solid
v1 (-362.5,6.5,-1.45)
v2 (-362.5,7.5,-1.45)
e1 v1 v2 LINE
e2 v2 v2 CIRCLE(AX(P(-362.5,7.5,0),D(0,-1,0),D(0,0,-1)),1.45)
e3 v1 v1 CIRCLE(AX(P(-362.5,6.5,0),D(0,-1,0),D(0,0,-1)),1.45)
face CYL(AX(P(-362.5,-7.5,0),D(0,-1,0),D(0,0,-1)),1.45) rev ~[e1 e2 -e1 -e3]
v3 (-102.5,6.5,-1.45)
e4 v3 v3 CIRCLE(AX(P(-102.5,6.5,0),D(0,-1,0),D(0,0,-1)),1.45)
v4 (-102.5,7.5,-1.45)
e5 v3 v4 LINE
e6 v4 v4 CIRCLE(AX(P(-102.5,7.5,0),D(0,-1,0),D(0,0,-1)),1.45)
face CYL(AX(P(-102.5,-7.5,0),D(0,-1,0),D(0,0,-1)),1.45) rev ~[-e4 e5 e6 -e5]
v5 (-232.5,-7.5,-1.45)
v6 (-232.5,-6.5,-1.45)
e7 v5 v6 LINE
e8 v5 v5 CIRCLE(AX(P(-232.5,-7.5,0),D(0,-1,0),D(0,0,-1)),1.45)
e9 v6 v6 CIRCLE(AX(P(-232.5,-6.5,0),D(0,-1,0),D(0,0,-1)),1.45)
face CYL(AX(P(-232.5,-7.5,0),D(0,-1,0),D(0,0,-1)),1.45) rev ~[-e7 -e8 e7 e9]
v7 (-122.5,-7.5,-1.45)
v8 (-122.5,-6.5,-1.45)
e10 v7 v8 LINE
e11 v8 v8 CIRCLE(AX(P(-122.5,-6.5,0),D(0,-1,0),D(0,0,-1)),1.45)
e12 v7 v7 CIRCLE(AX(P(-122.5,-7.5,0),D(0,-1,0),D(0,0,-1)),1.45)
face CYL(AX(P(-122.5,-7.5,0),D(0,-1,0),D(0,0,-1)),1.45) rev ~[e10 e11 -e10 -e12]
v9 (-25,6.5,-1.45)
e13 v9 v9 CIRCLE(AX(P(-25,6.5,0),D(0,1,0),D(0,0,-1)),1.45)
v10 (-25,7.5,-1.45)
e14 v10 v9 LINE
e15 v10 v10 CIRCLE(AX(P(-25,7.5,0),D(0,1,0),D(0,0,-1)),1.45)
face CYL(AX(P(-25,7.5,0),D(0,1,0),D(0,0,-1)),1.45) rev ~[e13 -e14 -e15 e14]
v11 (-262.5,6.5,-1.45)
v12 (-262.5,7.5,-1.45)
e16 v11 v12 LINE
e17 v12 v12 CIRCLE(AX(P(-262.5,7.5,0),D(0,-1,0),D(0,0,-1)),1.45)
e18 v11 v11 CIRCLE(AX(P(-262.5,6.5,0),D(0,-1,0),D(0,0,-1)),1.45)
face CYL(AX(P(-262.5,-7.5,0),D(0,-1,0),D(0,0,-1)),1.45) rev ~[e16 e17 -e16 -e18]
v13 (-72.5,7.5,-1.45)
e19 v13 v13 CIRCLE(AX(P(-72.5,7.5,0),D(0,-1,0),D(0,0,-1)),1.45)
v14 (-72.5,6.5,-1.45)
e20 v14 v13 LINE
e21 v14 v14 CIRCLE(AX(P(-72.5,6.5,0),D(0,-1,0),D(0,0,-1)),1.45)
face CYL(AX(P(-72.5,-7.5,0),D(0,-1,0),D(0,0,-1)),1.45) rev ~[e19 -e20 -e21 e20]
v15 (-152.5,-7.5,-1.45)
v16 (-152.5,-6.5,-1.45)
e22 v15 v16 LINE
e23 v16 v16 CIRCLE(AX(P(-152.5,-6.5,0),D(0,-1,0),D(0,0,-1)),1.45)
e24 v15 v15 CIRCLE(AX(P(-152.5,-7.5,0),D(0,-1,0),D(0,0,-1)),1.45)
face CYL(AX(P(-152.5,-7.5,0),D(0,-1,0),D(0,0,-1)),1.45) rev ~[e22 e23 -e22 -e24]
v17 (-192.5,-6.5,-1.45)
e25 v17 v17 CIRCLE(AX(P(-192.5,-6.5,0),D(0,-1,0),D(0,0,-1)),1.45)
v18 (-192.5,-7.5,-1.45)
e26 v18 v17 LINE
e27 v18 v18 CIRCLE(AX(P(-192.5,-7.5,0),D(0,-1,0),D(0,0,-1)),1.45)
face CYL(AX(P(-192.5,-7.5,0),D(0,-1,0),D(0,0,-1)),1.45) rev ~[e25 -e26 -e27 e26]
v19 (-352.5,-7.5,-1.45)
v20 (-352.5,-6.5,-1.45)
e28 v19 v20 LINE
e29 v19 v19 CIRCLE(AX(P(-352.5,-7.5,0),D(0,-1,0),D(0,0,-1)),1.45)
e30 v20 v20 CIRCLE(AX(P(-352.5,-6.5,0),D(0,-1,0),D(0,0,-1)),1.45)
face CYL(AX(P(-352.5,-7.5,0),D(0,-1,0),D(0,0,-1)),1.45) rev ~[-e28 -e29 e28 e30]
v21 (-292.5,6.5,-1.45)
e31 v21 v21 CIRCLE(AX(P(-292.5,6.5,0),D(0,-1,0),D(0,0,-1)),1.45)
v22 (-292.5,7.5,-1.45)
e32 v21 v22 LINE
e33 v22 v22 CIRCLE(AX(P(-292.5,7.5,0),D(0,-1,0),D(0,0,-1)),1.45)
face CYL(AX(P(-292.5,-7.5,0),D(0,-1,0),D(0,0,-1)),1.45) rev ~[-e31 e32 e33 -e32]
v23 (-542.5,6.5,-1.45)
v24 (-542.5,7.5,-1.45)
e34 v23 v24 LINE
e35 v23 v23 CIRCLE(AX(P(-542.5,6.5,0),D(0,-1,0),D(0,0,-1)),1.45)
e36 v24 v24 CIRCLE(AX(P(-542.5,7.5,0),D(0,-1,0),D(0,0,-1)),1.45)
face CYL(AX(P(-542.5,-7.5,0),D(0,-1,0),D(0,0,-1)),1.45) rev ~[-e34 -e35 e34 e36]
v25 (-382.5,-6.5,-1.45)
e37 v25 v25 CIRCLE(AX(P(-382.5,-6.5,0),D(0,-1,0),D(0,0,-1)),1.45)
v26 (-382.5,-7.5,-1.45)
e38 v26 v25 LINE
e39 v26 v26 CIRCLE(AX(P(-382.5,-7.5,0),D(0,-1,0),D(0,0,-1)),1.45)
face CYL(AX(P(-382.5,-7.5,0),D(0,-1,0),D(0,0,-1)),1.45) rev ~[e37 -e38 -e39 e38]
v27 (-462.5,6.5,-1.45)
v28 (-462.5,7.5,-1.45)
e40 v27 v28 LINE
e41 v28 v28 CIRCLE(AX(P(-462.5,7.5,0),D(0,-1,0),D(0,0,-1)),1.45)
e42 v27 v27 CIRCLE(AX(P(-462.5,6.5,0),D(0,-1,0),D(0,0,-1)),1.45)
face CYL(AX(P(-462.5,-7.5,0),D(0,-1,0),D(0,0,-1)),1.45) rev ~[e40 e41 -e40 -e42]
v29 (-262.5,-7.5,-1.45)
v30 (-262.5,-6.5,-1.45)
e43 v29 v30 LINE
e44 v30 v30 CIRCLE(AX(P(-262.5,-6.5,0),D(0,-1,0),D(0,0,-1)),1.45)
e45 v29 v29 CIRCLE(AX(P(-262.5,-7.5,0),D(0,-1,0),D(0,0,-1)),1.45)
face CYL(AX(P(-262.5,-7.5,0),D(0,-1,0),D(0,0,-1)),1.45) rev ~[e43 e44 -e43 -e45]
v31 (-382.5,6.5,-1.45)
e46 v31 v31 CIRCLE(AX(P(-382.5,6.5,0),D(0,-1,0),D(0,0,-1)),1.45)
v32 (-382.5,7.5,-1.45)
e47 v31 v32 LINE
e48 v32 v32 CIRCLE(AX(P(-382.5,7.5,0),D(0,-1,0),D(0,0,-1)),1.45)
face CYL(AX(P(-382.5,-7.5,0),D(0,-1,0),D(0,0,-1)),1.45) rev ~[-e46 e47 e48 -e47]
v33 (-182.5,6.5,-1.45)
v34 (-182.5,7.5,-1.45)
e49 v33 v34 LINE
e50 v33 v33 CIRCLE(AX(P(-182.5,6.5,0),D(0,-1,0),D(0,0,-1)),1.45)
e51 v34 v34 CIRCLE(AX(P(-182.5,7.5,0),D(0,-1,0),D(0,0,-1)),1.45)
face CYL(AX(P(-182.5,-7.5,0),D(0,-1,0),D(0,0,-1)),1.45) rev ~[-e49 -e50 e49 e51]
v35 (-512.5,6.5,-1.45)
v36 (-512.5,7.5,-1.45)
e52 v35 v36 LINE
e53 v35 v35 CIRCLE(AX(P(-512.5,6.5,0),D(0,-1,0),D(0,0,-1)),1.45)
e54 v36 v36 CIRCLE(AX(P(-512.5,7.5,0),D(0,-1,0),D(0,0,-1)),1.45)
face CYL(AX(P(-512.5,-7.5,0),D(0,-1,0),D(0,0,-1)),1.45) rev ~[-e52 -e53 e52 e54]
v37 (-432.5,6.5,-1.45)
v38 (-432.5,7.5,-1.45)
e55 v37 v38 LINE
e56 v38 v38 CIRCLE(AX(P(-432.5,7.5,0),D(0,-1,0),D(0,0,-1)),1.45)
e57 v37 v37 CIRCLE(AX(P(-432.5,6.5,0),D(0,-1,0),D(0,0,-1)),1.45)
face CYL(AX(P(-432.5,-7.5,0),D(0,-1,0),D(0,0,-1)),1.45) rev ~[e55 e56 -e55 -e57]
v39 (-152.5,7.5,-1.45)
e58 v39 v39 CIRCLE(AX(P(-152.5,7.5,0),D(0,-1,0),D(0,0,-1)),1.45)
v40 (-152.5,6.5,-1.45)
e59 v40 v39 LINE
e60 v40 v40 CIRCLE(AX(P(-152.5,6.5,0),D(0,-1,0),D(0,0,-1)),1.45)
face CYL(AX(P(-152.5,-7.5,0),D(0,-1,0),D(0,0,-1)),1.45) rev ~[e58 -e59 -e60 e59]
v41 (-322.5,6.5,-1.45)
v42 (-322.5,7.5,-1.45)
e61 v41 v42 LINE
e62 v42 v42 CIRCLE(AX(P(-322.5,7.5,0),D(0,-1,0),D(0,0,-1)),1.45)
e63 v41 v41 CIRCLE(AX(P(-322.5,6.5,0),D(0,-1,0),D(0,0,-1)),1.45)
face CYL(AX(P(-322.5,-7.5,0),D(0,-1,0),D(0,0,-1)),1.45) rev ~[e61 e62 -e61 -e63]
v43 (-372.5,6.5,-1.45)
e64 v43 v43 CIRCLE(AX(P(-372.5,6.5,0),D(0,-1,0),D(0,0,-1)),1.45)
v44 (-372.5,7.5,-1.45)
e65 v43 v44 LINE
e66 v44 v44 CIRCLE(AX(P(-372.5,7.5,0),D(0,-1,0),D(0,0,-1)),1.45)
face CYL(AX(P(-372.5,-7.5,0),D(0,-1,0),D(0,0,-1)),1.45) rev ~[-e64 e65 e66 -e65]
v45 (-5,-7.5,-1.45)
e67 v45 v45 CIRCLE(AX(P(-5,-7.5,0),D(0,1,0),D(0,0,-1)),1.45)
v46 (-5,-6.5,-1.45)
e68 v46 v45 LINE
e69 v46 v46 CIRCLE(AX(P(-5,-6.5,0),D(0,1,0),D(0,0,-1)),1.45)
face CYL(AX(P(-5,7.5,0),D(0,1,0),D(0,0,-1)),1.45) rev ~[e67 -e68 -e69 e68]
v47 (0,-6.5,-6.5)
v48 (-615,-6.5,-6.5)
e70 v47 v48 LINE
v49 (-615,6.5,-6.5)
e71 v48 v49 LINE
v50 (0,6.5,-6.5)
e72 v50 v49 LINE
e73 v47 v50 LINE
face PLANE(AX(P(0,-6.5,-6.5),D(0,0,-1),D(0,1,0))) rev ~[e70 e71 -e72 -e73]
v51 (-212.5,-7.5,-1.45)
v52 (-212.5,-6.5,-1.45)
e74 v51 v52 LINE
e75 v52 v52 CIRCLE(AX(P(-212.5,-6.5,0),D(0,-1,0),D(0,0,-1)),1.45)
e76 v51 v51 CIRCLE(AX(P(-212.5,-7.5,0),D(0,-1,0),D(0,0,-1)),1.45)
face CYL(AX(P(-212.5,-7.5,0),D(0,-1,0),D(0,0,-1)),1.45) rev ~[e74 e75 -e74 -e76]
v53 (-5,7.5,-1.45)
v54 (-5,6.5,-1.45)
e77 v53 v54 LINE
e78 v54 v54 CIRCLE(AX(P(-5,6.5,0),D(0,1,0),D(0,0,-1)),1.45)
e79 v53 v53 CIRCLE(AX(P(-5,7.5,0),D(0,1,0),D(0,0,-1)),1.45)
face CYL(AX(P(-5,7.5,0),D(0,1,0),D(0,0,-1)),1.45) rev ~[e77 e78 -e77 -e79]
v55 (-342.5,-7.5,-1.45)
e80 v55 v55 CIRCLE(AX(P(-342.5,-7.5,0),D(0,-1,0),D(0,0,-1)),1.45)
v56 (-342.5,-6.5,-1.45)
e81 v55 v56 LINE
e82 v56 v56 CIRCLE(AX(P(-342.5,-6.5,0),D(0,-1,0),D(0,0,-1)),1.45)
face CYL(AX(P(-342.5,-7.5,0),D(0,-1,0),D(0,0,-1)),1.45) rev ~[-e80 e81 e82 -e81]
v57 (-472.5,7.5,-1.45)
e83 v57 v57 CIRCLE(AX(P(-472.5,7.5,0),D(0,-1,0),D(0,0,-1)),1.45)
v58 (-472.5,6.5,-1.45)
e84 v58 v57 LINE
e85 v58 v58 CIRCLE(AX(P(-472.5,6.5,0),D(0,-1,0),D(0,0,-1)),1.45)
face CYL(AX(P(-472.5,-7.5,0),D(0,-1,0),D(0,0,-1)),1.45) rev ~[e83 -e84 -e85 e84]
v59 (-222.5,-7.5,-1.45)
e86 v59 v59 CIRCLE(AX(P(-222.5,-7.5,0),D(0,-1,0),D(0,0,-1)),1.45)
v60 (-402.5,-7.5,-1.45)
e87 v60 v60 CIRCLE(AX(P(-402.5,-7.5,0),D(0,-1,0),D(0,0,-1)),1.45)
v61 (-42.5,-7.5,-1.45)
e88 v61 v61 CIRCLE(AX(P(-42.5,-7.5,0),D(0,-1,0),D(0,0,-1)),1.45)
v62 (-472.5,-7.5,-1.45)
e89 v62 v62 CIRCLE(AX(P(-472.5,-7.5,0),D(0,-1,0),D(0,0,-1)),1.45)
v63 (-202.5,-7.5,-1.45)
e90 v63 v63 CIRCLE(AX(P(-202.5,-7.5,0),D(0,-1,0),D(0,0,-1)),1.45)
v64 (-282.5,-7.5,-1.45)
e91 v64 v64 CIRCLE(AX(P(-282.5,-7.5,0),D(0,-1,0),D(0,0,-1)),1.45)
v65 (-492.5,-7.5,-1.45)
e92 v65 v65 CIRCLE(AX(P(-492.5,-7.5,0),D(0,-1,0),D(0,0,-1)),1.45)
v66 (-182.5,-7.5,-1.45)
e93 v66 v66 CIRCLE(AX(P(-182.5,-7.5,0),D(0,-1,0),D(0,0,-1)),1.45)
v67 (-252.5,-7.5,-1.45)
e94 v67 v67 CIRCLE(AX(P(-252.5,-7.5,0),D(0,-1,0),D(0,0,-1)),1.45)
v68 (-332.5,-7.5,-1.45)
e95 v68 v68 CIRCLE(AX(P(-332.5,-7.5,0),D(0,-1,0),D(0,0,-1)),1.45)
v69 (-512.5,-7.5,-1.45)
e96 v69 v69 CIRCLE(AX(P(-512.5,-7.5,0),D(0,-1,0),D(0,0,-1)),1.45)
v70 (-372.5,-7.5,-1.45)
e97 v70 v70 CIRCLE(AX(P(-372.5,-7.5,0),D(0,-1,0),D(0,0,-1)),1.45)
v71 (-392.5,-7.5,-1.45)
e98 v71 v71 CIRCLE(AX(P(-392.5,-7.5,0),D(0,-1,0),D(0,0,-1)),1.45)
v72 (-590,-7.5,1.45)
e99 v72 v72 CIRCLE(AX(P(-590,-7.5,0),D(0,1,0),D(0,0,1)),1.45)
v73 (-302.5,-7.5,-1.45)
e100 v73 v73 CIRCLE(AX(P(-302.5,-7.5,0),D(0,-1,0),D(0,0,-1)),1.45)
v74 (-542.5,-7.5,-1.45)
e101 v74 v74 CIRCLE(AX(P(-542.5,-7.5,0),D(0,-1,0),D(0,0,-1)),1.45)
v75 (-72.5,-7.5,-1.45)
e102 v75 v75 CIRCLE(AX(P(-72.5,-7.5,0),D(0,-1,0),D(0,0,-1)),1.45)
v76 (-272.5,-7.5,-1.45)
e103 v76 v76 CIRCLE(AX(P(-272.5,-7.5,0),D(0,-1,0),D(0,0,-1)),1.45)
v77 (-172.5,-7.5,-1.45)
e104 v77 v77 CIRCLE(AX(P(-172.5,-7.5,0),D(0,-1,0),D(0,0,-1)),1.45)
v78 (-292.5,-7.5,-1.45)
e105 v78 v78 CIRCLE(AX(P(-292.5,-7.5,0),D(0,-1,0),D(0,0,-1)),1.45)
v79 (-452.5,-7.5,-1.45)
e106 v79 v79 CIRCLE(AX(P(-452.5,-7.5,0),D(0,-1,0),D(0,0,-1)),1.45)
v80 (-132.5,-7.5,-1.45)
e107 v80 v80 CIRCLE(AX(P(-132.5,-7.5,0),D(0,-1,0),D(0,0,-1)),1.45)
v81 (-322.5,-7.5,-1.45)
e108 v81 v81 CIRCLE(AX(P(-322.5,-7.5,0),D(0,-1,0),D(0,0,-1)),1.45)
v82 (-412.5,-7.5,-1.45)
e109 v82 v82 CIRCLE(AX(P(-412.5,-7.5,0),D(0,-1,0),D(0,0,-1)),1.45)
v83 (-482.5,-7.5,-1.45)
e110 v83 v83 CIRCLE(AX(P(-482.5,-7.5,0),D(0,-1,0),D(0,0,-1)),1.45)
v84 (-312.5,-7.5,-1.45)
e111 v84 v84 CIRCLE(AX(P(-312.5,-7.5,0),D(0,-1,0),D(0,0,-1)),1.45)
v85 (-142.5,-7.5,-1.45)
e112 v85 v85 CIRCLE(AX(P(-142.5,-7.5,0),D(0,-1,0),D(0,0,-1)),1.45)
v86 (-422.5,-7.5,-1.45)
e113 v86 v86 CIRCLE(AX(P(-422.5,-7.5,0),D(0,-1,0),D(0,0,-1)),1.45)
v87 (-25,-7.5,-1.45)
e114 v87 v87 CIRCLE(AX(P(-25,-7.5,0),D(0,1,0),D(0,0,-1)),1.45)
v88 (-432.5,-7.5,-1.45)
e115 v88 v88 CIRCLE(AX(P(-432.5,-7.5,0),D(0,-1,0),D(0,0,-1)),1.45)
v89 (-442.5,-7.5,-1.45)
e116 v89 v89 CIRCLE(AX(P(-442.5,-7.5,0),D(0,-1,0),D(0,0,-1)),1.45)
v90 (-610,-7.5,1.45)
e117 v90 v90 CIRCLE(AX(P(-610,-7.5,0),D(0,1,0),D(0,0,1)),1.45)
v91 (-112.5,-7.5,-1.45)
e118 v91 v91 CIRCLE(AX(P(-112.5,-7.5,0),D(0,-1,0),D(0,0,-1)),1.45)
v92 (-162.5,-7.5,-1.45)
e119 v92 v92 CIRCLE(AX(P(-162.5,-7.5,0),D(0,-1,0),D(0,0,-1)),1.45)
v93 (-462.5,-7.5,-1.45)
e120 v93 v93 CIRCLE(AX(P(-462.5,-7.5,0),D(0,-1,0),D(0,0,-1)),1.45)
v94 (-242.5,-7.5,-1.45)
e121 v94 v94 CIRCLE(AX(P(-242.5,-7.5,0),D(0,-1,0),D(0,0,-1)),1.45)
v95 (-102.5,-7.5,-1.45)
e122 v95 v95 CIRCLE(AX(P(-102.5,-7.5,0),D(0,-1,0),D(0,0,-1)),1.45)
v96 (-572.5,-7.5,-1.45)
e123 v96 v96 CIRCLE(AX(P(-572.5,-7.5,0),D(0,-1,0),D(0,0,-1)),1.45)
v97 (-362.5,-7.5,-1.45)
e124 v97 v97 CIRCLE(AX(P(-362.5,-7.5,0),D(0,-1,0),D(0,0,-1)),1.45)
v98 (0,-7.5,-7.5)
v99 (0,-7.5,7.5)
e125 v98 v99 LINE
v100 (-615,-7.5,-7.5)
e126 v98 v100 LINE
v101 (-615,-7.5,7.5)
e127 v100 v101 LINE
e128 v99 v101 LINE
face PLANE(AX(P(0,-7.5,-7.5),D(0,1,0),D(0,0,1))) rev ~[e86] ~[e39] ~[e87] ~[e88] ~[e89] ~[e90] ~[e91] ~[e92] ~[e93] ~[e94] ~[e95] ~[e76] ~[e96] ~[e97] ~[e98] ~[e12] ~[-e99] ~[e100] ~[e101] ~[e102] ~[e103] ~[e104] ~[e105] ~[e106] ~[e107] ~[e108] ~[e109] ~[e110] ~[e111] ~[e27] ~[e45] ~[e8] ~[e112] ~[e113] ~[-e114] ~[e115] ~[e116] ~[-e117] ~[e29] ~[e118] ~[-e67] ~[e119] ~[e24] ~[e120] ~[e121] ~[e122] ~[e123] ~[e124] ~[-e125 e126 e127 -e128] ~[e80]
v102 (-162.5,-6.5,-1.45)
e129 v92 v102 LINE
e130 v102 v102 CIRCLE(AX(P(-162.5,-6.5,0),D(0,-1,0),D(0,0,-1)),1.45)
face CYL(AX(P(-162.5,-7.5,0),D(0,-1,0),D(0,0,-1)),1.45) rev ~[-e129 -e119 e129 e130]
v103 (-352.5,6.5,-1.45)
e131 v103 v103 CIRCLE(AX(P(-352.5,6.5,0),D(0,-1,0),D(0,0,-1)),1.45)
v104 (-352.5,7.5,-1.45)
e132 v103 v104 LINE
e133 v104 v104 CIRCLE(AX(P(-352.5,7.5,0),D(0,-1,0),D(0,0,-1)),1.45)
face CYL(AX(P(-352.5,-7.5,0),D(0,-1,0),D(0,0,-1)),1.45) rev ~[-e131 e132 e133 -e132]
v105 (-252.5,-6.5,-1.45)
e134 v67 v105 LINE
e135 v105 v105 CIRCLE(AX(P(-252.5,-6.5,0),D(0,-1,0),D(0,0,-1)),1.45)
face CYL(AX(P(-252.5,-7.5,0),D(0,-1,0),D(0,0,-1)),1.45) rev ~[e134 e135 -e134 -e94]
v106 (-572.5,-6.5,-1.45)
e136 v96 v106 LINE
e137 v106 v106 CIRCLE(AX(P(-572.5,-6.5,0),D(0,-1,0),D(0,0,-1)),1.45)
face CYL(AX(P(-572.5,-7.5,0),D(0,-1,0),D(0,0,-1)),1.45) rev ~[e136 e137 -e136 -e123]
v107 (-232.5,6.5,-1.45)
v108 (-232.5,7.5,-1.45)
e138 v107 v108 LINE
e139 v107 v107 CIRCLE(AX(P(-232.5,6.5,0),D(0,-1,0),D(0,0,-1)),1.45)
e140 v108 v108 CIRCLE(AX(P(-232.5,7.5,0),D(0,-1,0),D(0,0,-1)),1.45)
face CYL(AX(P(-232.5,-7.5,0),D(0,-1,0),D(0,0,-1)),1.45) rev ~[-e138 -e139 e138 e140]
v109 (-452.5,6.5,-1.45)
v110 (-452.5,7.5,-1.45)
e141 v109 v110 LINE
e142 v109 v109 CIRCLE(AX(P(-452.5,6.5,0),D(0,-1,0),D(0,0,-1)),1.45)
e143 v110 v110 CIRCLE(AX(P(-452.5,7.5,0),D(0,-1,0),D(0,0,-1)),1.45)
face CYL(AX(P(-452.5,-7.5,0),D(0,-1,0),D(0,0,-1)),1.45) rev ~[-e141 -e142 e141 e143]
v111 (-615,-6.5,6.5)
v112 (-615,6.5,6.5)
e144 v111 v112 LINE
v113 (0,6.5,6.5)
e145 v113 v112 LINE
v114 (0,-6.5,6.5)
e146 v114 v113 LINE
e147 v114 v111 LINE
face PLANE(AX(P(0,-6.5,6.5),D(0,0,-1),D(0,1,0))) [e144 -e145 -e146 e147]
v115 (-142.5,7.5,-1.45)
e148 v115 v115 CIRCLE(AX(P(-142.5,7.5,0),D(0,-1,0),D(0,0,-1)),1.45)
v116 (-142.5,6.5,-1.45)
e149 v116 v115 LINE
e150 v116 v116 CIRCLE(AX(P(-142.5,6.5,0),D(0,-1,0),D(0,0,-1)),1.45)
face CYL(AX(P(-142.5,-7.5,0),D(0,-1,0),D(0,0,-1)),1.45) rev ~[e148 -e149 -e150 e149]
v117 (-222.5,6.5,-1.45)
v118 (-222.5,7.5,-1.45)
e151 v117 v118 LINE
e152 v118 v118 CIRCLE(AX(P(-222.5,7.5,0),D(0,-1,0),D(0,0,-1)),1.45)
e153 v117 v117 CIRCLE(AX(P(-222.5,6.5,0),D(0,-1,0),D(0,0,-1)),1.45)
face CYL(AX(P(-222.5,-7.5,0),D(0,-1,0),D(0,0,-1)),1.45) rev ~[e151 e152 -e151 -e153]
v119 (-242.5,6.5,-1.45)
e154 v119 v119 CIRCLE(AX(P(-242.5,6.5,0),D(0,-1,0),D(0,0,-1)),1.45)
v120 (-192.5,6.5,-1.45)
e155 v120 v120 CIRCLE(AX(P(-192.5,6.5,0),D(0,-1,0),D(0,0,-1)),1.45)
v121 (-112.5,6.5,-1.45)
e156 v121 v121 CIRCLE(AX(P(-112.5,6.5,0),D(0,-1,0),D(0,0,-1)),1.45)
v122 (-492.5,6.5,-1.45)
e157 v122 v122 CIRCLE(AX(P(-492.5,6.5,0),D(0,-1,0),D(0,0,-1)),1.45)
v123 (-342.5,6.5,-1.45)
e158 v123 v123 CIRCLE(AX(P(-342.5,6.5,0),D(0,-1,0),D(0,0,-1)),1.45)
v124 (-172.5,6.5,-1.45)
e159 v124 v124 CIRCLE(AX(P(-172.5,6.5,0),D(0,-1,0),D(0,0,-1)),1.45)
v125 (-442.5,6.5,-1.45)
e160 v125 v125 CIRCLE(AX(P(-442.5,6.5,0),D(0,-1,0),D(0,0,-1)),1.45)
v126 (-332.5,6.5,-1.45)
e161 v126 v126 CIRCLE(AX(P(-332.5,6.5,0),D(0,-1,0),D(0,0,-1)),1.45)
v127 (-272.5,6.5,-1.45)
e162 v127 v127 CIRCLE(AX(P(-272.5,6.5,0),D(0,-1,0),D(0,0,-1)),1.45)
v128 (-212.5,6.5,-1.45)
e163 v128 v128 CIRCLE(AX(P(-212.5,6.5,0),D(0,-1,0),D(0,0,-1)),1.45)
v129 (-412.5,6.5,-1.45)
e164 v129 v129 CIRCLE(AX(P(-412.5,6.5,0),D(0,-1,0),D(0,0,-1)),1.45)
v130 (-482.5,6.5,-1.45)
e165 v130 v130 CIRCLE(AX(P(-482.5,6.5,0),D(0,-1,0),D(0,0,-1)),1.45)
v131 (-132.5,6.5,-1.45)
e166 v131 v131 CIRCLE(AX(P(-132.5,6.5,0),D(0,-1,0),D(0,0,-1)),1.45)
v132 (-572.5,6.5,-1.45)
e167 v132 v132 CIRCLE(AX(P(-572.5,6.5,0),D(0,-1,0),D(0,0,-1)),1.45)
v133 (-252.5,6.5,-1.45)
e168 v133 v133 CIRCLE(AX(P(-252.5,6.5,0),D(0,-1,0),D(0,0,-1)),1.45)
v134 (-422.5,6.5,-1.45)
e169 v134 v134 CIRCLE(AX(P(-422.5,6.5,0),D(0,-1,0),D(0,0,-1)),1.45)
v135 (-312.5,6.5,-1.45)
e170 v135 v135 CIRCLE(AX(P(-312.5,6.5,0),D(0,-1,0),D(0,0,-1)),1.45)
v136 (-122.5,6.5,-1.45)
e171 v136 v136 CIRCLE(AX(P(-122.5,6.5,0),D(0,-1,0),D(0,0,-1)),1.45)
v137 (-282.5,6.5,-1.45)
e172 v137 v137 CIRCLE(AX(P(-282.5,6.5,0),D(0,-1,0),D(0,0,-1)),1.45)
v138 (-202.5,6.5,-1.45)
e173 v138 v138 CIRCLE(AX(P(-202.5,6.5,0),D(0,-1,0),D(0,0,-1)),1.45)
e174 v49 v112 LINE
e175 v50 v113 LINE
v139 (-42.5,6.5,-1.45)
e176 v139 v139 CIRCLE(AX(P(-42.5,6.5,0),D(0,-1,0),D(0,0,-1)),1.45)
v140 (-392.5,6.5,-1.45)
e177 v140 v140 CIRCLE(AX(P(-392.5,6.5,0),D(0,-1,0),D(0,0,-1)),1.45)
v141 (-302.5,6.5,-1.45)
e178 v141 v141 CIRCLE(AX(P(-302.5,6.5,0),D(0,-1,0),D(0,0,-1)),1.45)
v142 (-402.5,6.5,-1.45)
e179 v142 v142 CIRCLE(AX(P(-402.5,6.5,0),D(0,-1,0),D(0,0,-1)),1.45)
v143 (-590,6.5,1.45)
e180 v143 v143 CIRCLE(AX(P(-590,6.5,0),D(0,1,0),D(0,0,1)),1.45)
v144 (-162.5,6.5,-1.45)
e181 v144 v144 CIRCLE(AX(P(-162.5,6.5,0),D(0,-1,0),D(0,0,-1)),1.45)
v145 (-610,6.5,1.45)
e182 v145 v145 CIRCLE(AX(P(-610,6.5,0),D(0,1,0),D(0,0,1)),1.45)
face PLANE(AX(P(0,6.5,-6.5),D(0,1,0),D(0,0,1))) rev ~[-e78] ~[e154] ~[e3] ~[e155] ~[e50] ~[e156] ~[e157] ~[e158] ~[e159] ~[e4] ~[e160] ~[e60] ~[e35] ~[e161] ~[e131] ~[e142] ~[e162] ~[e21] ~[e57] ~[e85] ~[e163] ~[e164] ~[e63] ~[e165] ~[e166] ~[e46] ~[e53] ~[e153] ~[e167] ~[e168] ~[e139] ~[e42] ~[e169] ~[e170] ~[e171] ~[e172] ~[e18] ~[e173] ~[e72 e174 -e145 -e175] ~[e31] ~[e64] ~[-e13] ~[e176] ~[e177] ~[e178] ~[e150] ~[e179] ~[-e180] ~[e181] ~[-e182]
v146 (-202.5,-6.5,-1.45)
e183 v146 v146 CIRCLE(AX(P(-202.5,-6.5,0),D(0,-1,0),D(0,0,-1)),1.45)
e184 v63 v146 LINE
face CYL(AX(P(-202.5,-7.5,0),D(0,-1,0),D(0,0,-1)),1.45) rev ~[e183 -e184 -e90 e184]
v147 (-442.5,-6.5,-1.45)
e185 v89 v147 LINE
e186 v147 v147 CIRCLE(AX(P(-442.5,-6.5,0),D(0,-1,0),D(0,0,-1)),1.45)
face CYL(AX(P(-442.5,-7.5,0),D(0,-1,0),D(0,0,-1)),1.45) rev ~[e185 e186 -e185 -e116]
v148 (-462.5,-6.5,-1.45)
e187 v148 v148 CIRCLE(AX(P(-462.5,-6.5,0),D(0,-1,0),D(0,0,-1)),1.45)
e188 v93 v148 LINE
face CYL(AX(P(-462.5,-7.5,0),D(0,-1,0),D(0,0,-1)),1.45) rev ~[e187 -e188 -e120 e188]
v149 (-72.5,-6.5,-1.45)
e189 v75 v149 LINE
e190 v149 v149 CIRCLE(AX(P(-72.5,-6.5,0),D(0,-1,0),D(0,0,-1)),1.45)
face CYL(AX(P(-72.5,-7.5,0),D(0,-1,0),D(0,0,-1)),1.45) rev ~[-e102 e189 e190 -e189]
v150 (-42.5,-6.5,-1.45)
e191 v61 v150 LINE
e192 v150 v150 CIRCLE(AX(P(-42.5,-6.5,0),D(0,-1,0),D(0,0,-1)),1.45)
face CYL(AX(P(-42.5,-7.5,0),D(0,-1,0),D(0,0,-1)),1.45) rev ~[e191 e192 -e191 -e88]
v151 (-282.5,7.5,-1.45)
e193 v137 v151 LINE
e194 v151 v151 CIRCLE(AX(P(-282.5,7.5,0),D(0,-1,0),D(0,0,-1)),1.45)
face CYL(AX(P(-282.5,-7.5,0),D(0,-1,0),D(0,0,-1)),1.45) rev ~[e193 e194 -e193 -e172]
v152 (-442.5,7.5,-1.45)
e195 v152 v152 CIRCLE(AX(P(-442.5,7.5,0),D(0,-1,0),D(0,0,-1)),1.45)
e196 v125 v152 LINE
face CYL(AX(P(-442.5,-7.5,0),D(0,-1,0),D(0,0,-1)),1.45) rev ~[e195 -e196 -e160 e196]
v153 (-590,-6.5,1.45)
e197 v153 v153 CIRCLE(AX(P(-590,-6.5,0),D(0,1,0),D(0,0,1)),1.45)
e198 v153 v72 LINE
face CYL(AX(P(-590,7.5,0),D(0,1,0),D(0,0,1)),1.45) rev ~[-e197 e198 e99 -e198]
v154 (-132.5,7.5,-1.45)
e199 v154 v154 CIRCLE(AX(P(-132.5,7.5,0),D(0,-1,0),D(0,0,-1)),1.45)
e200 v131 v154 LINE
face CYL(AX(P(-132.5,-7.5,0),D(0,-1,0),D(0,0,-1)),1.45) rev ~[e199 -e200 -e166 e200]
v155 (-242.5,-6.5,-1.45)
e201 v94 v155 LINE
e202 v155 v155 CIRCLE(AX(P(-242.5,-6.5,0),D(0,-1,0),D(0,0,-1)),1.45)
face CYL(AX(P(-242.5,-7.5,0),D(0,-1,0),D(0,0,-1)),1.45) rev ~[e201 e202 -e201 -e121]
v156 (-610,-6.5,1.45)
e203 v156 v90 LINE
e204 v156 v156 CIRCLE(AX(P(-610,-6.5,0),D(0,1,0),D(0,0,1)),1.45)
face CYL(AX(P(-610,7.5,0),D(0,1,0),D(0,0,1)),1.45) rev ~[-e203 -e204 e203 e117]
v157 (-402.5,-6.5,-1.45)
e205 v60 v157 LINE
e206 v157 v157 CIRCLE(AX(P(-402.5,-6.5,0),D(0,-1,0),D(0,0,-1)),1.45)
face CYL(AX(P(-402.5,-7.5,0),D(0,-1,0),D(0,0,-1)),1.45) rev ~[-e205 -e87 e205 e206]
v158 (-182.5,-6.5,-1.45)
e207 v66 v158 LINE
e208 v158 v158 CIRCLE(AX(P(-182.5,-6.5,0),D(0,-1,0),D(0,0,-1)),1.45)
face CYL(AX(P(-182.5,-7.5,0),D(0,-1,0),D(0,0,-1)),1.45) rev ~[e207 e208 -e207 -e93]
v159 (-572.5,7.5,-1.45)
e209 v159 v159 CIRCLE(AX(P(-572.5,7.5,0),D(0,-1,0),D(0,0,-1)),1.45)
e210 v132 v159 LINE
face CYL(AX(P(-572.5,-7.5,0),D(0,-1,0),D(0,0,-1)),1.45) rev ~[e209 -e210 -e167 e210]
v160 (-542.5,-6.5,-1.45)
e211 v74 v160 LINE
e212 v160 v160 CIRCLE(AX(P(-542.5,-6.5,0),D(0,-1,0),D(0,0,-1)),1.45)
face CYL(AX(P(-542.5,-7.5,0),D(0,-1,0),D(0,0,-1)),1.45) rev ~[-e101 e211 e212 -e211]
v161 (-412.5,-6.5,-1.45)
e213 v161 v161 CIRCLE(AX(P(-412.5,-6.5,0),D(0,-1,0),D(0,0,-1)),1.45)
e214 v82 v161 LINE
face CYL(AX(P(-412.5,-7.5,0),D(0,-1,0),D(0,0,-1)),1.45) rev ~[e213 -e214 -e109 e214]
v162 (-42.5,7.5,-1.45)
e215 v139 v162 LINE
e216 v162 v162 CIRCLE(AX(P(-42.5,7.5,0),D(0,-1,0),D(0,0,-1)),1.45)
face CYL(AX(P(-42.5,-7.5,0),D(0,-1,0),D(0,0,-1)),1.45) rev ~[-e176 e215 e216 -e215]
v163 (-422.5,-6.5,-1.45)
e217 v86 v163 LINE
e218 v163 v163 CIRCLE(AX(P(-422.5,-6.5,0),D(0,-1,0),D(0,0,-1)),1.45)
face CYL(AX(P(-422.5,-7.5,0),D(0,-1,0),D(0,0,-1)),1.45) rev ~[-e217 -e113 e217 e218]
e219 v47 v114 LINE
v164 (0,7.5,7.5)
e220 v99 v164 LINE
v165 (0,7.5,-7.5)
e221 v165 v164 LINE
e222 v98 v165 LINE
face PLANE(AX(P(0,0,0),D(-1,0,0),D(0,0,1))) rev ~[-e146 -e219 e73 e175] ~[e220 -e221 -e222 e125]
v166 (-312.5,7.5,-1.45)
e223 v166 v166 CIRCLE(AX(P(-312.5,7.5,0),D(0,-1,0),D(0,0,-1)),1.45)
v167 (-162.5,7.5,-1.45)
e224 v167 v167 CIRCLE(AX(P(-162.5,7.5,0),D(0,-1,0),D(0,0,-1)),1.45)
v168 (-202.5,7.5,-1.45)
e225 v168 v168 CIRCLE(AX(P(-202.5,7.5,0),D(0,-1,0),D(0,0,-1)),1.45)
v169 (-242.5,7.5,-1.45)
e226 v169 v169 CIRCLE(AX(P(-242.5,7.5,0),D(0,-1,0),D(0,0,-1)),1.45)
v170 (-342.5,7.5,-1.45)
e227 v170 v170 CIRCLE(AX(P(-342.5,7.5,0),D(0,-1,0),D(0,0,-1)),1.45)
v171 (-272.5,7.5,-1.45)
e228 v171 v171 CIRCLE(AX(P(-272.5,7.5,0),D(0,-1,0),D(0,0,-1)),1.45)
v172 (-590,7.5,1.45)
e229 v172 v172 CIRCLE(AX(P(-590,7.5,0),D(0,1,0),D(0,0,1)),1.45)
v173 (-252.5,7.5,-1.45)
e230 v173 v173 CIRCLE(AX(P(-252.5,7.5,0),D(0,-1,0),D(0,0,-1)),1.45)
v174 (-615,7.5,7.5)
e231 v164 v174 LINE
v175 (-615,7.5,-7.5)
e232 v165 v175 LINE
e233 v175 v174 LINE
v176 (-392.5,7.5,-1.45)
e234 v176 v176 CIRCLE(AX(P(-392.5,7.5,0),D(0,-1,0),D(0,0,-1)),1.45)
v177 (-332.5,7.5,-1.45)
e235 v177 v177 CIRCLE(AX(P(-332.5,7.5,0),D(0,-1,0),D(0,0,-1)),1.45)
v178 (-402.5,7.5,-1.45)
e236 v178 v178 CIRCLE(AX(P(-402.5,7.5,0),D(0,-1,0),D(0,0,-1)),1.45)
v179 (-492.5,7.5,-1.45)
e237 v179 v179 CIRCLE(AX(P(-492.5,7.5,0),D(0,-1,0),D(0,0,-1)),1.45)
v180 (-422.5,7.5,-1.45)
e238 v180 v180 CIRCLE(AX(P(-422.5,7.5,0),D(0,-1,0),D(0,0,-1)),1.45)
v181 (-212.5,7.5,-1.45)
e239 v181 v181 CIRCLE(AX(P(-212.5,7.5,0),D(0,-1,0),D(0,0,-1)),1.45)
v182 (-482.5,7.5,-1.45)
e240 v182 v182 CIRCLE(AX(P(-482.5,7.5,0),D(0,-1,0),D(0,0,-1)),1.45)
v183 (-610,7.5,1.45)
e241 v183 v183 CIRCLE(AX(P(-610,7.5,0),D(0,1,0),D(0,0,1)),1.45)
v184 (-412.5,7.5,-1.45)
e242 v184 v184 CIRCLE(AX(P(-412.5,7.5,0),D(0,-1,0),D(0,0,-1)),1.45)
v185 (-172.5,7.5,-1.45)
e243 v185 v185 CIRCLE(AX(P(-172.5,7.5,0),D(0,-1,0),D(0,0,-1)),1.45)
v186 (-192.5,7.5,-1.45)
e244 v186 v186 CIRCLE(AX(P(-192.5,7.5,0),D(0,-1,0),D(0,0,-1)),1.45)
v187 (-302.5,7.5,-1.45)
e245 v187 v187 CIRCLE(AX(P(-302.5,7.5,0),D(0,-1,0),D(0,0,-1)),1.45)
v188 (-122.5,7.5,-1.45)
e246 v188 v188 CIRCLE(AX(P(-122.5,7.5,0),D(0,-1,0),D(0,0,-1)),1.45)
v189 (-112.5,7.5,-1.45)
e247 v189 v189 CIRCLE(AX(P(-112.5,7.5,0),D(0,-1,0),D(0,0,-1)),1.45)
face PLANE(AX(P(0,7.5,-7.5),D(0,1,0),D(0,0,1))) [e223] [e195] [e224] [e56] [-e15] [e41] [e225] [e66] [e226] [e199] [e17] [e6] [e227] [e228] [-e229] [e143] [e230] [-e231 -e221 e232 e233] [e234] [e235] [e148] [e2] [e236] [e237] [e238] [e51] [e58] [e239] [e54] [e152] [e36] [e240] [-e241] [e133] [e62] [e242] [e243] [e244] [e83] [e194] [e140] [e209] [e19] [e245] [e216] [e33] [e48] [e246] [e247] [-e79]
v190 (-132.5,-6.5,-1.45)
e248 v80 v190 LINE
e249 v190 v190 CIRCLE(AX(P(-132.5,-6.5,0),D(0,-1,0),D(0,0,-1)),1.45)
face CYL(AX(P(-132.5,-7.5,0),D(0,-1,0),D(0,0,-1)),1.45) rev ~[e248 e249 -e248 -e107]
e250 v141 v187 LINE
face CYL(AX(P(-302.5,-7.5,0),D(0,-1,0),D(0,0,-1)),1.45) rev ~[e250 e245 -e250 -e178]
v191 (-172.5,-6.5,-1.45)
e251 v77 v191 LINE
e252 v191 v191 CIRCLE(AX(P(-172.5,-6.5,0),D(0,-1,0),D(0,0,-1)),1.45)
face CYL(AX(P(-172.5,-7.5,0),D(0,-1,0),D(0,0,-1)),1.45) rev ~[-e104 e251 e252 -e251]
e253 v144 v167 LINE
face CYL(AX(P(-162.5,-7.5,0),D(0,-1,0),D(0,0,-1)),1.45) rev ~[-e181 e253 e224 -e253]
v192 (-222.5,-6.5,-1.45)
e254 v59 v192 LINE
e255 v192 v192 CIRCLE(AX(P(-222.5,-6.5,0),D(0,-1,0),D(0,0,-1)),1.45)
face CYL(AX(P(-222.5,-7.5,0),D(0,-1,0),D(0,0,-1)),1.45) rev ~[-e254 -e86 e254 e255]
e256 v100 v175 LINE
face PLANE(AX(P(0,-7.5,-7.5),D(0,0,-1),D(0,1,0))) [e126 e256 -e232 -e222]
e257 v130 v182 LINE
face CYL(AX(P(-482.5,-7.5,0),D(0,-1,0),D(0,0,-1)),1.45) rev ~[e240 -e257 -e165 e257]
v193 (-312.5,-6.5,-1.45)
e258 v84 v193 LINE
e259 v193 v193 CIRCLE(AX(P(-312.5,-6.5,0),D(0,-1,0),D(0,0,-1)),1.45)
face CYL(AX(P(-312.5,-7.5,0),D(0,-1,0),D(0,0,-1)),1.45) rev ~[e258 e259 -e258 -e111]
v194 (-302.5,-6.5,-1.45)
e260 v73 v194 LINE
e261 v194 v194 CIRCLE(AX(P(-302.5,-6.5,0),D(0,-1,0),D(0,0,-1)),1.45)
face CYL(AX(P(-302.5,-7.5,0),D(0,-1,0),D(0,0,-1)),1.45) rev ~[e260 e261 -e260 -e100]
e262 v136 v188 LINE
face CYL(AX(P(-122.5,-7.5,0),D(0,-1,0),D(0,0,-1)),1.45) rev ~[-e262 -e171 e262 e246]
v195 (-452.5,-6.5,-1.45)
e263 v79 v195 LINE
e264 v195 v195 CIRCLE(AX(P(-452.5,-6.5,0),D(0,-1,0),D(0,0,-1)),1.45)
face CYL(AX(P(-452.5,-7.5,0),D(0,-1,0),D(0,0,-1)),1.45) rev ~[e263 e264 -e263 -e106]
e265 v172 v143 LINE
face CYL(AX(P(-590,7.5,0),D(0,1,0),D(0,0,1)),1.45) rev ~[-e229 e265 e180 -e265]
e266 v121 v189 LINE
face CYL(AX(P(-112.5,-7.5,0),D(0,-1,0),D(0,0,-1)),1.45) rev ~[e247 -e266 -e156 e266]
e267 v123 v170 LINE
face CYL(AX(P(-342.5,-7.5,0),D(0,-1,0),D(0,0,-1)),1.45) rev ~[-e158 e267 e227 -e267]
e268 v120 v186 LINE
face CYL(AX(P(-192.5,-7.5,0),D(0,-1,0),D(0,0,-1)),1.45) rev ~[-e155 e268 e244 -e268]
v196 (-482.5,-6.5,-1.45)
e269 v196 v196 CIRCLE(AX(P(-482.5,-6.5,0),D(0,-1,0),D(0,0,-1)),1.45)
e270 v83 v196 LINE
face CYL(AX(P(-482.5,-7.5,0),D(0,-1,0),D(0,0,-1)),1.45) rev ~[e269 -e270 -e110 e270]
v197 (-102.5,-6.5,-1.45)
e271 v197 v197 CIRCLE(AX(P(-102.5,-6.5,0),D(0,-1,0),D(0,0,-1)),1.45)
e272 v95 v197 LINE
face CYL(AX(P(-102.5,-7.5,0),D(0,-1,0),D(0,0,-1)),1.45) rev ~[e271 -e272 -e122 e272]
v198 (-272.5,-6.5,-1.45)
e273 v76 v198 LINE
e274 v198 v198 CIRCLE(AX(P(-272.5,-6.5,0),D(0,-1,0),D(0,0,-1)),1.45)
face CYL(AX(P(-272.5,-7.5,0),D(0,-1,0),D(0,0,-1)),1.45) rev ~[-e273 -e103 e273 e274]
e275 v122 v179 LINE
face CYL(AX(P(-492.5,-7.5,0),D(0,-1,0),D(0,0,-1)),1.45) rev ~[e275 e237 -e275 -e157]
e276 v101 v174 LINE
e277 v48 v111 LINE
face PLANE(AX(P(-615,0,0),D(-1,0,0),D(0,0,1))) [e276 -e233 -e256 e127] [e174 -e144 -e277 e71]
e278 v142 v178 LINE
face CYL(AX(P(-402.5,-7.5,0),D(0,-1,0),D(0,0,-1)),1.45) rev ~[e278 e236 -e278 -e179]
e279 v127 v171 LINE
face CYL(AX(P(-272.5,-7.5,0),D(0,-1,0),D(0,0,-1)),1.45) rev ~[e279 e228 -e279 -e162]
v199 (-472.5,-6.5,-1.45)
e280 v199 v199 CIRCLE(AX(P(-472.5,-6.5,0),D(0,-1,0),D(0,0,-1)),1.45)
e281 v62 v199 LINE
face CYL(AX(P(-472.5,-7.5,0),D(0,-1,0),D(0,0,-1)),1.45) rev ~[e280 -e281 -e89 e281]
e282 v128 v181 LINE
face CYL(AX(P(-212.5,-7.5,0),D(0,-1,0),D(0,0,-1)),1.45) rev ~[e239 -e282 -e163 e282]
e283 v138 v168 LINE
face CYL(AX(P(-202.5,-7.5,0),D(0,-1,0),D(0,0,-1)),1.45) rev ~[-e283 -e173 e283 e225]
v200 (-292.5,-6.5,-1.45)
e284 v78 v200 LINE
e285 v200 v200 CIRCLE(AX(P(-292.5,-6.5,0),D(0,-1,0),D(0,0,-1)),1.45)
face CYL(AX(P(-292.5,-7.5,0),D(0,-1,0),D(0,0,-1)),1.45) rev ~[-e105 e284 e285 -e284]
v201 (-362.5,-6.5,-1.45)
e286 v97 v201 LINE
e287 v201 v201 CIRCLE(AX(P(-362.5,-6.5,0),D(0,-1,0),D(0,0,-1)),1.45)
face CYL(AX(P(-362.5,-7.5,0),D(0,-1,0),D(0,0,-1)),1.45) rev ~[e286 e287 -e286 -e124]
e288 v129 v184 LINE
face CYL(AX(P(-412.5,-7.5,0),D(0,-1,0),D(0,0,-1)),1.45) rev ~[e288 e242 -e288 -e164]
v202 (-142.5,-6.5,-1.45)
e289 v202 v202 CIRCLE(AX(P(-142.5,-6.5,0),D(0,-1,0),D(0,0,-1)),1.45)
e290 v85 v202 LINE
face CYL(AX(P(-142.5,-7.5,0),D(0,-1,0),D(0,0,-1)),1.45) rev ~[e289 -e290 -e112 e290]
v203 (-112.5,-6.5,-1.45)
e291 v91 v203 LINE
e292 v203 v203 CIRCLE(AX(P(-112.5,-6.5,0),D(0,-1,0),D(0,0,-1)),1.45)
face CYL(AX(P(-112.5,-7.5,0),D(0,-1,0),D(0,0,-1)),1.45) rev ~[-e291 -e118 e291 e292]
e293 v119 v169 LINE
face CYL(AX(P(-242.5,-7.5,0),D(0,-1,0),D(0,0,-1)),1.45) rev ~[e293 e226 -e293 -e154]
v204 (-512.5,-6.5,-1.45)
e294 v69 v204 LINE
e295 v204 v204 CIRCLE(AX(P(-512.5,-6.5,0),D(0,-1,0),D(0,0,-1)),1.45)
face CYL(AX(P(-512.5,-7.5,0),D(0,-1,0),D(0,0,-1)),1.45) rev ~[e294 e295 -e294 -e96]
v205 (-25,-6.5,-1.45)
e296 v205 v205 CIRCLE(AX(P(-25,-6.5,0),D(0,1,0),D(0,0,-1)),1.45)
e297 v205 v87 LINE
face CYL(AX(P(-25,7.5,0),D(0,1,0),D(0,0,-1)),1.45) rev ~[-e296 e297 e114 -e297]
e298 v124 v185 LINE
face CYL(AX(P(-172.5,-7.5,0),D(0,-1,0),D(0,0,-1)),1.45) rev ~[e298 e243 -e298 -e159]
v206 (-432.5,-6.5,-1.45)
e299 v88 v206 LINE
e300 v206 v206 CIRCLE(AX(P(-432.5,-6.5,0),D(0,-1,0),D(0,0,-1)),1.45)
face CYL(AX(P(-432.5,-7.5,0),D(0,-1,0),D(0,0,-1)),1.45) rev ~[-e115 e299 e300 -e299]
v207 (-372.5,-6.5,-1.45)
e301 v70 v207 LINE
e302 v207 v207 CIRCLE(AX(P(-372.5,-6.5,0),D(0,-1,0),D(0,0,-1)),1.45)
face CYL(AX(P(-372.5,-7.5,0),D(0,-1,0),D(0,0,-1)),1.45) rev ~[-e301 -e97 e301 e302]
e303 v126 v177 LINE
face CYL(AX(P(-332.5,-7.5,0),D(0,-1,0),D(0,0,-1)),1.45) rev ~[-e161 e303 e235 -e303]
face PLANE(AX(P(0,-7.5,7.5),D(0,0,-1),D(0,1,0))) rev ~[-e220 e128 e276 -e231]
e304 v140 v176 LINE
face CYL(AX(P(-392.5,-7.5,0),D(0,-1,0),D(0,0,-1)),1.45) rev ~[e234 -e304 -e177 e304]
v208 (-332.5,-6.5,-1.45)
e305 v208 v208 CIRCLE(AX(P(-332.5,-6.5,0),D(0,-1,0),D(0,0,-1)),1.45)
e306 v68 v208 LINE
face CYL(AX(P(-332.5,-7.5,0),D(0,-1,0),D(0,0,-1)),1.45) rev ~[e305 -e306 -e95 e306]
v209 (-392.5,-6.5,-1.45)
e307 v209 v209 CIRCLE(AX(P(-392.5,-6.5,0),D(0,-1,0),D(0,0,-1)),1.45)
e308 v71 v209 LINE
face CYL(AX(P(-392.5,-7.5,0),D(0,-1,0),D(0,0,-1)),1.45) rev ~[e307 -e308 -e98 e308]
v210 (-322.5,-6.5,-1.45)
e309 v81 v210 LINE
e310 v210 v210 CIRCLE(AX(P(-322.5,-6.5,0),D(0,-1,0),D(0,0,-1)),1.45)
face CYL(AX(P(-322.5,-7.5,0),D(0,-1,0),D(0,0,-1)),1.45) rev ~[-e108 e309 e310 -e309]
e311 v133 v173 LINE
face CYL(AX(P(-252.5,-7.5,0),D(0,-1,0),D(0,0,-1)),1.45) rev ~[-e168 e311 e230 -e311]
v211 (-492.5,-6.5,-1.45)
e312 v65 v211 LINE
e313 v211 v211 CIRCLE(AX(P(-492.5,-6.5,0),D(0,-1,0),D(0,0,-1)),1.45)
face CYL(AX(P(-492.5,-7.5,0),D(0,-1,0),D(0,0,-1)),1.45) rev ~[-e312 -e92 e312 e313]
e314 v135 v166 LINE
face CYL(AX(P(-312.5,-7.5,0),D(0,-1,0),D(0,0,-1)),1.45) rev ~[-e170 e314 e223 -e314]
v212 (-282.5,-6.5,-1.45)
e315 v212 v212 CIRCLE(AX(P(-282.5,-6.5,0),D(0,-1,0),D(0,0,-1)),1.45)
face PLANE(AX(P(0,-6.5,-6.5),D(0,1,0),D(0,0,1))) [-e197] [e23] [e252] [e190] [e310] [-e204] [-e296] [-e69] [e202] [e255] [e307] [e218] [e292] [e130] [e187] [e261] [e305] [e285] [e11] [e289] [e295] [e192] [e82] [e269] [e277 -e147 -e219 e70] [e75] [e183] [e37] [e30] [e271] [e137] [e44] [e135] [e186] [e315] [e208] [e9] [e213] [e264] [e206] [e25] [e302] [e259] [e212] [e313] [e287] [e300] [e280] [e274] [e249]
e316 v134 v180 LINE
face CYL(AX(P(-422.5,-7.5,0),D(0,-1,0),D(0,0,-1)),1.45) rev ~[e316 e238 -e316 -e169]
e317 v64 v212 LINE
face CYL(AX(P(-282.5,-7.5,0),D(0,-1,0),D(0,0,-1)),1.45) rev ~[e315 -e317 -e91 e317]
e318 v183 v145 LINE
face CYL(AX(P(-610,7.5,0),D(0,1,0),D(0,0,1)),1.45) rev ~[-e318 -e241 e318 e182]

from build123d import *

# Parameters (mm, degrees)
SKETCH_11_W         = 15
SKETCH_11_H         = 15
SKETCH_11_W_2       = 13
SKETCH_11_H_2       = 13
F_15X15X1_1_DEPTH   = 615
SKETCH_12_R         = 1.45
CUT_EXTRUDE_1_DEPTH = 616.228616044
SKETCH_13_R         = 1.45
CUT_EXTRUDE_2_DEPTH = 616.228616044
SKETCH_14_R         = 1.45
CUT_EXTRUDE_3_DEPTH = 616.228616044


with BuildPart() as part:
    # 草图11 → 铝管 15X15X1(1) (new body)
    with BuildSketch(Plane.ZY):
        Rectangle(SKETCH_11_W, SKETCH_11_H)
        Rectangle(SKETCH_11_W_2, SKETCH_11_H_2, mode=Mode.SUBTRACT)
    extrude(amount=F_15X15X1_1_DEPTH)

    # 草图12 → 切除-拉伸1 (cut, through all)
    with BuildSketch(Plane(origin=(0, 7.5, 0), x_dir=(1, 0, 0), z_dir=(0, 1, 0))):
        with Locations(Location((-610, 0, 0), (0, 0, 270))):
            Circle(SKETCH_12_R)
        with Locations(Location((-590, 0, 0), (0, 0, 270))):
            Circle(SKETCH_12_R)
        with Locations(Location((-25, 0, 0), (0, 0, 90))):
            Circle(SKETCH_12_R)
        with Locations(Location((-5, 0, 0), (0, 0, 90))):
            Circle(SKETCH_12_R)
    extrude(amount=-CUT_EXTRUDE_1_DEPTH, mode=Mode.SUBTRACT)

    # 草图13 → 切除-拉伸2 (cut, through all)
    with BuildSketch(Plane.XZ.offset(7.5)):
        with Locations(Location((-102.5, 0, 0), (0, 0, 270))):
            Circle(SKETCH_13_R)
        with Locations(Location((-72.5, 0, 0), (0, 0, 270))):
            Circle(SKETCH_13_R)
        with Locations(Location((-42.5, 0, 0), (0, 0, 270))):
            Circle(SKETCH_13_R)
        with Locations(Location((-542.5, 0, 0), (0, 0, 270))):
            Circle(SKETCH_13_R)
        with Locations(Location((-512.5, 0, 0), (0, 0, 270))):
            Circle(SKETCH_13_R)
        with Locations(Location((-572.5, 0, 0), (0, 0, 270))):
            Circle(SKETCH_13_R)
    extrude(amount=-CUT_EXTRUDE_2_DEPTH, mode=Mode.SUBTRACT)

    # 草图14 → 切除-拉伸3 (cut, through all)
    with BuildSketch(Plane.XZ.offset(7.5)):
        with Locations(Location((-492.5, 0, 0), (0, 0, 270))):
            Circle(SKETCH_14_R)
        with Locations(Location((-482.5, 0, 0), (0, 0, 270))):
            Circle(SKETCH_14_R)
        with Locations(Location((-472.5, 0, 0), (0, 0, 270))):
            Circle(SKETCH_14_R)
        with Locations(Location((-462.5, 0, 0), (0, 0, 270))):
            Circle(SKETCH_14_R)
        with Locations(Location((-452.5, 0, 0), (0, 0, 270))):
            Circle(SKETCH_14_R)
        with Locations(Location((-442.5, 0, 0), (0, 0, 270))):
            Circle(SKETCH_14_R)
        with Locations(Location((-432.5, 0, 0), (0, 0, 270))):
            Circle(SKETCH_14_R)
        with Locations(Location((-422.5, 0, 0), (0, 0, 270))):
            Circle(SKETCH_14_R)
        with Locations(Location((-412.5, 0, 0), (0, 0, 270))):
            Circle(SKETCH_14_R)
        with Locations(Location((-402.5, 0, 0), (0, 0, 270))):
            Circle(SKETCH_14_R)
        with Locations(Location((-392.5, 0, 0), (0, 0, 270))):
            Circle(SKETCH_14_R)
        with Locations(Location((-382.5, 0, 0), (0, 0, 270))):
            Circle(SKETCH_14_R)
        with Locations(Location((-372.5, 0, 0), (0, 0, 270))):
            Circle(SKETCH_14_R)
        with Locations(Location((-362.5, 0, 0), (0, 0, 270))):
            Circle(SKETCH_14_R)
        with Locations(Location((-352.5, 0, 0), (0, 0, 270))):
            Circle(SKETCH_14_R)
        with Locations(Location((-342.5, 0, 0), (0, 0, 270))):
            Circle(SKETCH_14_R)
        with Locations(Location((-332.5, 0, 0), (0, 0, 270))):
            Circle(SKETCH_14_R)
        with Locations(Location((-322.5, 0, 0), (0, 0, 270))):
            Circle(SKETCH_14_R)
        with Locations(Location((-312.5, 0, 0), (0, 0, 270))):
            Circle(SKETCH_14_R)
        with Locations(Location((-302.5, 0, 0), (0, 0, 270))):
            Circle(SKETCH_14_R)
        with Locations(Location((-292.5, 0, 0), (0, 0, 270))):
            Circle(SKETCH_14_R)
        with Locations(Location((-282.5, 0, 0), (0, 0, 270))):
            Circle(SKETCH_14_R)
        with Locations(Location((-272.5, 0, 0), (0, 0, 270))):
            Circle(SKETCH_14_R)
        with Locations(Location((-262.5, 0, 0), (0, 0, 270))):
            Circle(SKETCH_14_R)
        with Locations(Location((-252.5, 0, 0), (0, 0, 270))):
            Circle(SKETCH_14_R)
        with Locations(Location((-242.5, 0, 0), (0, 0, 270))):
            Circle(SKETCH_14_R)
        with Locations(Location((-232.5, 0, 0), (0, 0, 270))):
            Circle(SKETCH_14_R)
        with Locations(Location((-222.5, 0, 0), (0, 0, 270))):
            Circle(SKETCH_14_R)
        with Locations(Location((-212.5, 0, 0), (0, 0, 270))):
            Circle(SKETCH_14_R)
        with Locations(Location((-202.5, 0, 0), (0, 0, 270))):
            Circle(SKETCH_14_R)
        with Locations(Location((-192.5, 0, 0), (0, 0, 270))):
            Circle(SKETCH_14_R)
        with Locations(Location((-182.5, 0, 0), (0, 0, 270))):
            Circle(SKETCH_14_R)
        with Locations(Location((-172.5, 0, 0), (0, 0, 270))):
            Circle(SKETCH_14_R)
        with Locations(Location((-162.5, 0, 0), (0, 0, 270))):
            Circle(SKETCH_14_R)
        with Locations(Location((-152.5, 0, 0), (0, 0, 270))):
            Circle(SKETCH_14_R)
        with Locations(Location((-142.5, 0, 0), (0, 0, 270))):
            Circle(SKETCH_14_R)
        with Locations(Location((-132.5, 0, 0), (0, 0, 270))):
            Circle(SKETCH_14_R)
        with Locations(Location((-122.5, 0, 0), (0, 0, 270))):
            Circle(SKETCH_14_R)
        with Locations(Location((-112.5, 0, 0), (0, 0, 270))):
            Circle(SKETCH_14_R)
    extrude(amount=-CUT_EXTRUDE_3_DEPTH, mode=Mode.SUBTRACT)


solid = part.part
